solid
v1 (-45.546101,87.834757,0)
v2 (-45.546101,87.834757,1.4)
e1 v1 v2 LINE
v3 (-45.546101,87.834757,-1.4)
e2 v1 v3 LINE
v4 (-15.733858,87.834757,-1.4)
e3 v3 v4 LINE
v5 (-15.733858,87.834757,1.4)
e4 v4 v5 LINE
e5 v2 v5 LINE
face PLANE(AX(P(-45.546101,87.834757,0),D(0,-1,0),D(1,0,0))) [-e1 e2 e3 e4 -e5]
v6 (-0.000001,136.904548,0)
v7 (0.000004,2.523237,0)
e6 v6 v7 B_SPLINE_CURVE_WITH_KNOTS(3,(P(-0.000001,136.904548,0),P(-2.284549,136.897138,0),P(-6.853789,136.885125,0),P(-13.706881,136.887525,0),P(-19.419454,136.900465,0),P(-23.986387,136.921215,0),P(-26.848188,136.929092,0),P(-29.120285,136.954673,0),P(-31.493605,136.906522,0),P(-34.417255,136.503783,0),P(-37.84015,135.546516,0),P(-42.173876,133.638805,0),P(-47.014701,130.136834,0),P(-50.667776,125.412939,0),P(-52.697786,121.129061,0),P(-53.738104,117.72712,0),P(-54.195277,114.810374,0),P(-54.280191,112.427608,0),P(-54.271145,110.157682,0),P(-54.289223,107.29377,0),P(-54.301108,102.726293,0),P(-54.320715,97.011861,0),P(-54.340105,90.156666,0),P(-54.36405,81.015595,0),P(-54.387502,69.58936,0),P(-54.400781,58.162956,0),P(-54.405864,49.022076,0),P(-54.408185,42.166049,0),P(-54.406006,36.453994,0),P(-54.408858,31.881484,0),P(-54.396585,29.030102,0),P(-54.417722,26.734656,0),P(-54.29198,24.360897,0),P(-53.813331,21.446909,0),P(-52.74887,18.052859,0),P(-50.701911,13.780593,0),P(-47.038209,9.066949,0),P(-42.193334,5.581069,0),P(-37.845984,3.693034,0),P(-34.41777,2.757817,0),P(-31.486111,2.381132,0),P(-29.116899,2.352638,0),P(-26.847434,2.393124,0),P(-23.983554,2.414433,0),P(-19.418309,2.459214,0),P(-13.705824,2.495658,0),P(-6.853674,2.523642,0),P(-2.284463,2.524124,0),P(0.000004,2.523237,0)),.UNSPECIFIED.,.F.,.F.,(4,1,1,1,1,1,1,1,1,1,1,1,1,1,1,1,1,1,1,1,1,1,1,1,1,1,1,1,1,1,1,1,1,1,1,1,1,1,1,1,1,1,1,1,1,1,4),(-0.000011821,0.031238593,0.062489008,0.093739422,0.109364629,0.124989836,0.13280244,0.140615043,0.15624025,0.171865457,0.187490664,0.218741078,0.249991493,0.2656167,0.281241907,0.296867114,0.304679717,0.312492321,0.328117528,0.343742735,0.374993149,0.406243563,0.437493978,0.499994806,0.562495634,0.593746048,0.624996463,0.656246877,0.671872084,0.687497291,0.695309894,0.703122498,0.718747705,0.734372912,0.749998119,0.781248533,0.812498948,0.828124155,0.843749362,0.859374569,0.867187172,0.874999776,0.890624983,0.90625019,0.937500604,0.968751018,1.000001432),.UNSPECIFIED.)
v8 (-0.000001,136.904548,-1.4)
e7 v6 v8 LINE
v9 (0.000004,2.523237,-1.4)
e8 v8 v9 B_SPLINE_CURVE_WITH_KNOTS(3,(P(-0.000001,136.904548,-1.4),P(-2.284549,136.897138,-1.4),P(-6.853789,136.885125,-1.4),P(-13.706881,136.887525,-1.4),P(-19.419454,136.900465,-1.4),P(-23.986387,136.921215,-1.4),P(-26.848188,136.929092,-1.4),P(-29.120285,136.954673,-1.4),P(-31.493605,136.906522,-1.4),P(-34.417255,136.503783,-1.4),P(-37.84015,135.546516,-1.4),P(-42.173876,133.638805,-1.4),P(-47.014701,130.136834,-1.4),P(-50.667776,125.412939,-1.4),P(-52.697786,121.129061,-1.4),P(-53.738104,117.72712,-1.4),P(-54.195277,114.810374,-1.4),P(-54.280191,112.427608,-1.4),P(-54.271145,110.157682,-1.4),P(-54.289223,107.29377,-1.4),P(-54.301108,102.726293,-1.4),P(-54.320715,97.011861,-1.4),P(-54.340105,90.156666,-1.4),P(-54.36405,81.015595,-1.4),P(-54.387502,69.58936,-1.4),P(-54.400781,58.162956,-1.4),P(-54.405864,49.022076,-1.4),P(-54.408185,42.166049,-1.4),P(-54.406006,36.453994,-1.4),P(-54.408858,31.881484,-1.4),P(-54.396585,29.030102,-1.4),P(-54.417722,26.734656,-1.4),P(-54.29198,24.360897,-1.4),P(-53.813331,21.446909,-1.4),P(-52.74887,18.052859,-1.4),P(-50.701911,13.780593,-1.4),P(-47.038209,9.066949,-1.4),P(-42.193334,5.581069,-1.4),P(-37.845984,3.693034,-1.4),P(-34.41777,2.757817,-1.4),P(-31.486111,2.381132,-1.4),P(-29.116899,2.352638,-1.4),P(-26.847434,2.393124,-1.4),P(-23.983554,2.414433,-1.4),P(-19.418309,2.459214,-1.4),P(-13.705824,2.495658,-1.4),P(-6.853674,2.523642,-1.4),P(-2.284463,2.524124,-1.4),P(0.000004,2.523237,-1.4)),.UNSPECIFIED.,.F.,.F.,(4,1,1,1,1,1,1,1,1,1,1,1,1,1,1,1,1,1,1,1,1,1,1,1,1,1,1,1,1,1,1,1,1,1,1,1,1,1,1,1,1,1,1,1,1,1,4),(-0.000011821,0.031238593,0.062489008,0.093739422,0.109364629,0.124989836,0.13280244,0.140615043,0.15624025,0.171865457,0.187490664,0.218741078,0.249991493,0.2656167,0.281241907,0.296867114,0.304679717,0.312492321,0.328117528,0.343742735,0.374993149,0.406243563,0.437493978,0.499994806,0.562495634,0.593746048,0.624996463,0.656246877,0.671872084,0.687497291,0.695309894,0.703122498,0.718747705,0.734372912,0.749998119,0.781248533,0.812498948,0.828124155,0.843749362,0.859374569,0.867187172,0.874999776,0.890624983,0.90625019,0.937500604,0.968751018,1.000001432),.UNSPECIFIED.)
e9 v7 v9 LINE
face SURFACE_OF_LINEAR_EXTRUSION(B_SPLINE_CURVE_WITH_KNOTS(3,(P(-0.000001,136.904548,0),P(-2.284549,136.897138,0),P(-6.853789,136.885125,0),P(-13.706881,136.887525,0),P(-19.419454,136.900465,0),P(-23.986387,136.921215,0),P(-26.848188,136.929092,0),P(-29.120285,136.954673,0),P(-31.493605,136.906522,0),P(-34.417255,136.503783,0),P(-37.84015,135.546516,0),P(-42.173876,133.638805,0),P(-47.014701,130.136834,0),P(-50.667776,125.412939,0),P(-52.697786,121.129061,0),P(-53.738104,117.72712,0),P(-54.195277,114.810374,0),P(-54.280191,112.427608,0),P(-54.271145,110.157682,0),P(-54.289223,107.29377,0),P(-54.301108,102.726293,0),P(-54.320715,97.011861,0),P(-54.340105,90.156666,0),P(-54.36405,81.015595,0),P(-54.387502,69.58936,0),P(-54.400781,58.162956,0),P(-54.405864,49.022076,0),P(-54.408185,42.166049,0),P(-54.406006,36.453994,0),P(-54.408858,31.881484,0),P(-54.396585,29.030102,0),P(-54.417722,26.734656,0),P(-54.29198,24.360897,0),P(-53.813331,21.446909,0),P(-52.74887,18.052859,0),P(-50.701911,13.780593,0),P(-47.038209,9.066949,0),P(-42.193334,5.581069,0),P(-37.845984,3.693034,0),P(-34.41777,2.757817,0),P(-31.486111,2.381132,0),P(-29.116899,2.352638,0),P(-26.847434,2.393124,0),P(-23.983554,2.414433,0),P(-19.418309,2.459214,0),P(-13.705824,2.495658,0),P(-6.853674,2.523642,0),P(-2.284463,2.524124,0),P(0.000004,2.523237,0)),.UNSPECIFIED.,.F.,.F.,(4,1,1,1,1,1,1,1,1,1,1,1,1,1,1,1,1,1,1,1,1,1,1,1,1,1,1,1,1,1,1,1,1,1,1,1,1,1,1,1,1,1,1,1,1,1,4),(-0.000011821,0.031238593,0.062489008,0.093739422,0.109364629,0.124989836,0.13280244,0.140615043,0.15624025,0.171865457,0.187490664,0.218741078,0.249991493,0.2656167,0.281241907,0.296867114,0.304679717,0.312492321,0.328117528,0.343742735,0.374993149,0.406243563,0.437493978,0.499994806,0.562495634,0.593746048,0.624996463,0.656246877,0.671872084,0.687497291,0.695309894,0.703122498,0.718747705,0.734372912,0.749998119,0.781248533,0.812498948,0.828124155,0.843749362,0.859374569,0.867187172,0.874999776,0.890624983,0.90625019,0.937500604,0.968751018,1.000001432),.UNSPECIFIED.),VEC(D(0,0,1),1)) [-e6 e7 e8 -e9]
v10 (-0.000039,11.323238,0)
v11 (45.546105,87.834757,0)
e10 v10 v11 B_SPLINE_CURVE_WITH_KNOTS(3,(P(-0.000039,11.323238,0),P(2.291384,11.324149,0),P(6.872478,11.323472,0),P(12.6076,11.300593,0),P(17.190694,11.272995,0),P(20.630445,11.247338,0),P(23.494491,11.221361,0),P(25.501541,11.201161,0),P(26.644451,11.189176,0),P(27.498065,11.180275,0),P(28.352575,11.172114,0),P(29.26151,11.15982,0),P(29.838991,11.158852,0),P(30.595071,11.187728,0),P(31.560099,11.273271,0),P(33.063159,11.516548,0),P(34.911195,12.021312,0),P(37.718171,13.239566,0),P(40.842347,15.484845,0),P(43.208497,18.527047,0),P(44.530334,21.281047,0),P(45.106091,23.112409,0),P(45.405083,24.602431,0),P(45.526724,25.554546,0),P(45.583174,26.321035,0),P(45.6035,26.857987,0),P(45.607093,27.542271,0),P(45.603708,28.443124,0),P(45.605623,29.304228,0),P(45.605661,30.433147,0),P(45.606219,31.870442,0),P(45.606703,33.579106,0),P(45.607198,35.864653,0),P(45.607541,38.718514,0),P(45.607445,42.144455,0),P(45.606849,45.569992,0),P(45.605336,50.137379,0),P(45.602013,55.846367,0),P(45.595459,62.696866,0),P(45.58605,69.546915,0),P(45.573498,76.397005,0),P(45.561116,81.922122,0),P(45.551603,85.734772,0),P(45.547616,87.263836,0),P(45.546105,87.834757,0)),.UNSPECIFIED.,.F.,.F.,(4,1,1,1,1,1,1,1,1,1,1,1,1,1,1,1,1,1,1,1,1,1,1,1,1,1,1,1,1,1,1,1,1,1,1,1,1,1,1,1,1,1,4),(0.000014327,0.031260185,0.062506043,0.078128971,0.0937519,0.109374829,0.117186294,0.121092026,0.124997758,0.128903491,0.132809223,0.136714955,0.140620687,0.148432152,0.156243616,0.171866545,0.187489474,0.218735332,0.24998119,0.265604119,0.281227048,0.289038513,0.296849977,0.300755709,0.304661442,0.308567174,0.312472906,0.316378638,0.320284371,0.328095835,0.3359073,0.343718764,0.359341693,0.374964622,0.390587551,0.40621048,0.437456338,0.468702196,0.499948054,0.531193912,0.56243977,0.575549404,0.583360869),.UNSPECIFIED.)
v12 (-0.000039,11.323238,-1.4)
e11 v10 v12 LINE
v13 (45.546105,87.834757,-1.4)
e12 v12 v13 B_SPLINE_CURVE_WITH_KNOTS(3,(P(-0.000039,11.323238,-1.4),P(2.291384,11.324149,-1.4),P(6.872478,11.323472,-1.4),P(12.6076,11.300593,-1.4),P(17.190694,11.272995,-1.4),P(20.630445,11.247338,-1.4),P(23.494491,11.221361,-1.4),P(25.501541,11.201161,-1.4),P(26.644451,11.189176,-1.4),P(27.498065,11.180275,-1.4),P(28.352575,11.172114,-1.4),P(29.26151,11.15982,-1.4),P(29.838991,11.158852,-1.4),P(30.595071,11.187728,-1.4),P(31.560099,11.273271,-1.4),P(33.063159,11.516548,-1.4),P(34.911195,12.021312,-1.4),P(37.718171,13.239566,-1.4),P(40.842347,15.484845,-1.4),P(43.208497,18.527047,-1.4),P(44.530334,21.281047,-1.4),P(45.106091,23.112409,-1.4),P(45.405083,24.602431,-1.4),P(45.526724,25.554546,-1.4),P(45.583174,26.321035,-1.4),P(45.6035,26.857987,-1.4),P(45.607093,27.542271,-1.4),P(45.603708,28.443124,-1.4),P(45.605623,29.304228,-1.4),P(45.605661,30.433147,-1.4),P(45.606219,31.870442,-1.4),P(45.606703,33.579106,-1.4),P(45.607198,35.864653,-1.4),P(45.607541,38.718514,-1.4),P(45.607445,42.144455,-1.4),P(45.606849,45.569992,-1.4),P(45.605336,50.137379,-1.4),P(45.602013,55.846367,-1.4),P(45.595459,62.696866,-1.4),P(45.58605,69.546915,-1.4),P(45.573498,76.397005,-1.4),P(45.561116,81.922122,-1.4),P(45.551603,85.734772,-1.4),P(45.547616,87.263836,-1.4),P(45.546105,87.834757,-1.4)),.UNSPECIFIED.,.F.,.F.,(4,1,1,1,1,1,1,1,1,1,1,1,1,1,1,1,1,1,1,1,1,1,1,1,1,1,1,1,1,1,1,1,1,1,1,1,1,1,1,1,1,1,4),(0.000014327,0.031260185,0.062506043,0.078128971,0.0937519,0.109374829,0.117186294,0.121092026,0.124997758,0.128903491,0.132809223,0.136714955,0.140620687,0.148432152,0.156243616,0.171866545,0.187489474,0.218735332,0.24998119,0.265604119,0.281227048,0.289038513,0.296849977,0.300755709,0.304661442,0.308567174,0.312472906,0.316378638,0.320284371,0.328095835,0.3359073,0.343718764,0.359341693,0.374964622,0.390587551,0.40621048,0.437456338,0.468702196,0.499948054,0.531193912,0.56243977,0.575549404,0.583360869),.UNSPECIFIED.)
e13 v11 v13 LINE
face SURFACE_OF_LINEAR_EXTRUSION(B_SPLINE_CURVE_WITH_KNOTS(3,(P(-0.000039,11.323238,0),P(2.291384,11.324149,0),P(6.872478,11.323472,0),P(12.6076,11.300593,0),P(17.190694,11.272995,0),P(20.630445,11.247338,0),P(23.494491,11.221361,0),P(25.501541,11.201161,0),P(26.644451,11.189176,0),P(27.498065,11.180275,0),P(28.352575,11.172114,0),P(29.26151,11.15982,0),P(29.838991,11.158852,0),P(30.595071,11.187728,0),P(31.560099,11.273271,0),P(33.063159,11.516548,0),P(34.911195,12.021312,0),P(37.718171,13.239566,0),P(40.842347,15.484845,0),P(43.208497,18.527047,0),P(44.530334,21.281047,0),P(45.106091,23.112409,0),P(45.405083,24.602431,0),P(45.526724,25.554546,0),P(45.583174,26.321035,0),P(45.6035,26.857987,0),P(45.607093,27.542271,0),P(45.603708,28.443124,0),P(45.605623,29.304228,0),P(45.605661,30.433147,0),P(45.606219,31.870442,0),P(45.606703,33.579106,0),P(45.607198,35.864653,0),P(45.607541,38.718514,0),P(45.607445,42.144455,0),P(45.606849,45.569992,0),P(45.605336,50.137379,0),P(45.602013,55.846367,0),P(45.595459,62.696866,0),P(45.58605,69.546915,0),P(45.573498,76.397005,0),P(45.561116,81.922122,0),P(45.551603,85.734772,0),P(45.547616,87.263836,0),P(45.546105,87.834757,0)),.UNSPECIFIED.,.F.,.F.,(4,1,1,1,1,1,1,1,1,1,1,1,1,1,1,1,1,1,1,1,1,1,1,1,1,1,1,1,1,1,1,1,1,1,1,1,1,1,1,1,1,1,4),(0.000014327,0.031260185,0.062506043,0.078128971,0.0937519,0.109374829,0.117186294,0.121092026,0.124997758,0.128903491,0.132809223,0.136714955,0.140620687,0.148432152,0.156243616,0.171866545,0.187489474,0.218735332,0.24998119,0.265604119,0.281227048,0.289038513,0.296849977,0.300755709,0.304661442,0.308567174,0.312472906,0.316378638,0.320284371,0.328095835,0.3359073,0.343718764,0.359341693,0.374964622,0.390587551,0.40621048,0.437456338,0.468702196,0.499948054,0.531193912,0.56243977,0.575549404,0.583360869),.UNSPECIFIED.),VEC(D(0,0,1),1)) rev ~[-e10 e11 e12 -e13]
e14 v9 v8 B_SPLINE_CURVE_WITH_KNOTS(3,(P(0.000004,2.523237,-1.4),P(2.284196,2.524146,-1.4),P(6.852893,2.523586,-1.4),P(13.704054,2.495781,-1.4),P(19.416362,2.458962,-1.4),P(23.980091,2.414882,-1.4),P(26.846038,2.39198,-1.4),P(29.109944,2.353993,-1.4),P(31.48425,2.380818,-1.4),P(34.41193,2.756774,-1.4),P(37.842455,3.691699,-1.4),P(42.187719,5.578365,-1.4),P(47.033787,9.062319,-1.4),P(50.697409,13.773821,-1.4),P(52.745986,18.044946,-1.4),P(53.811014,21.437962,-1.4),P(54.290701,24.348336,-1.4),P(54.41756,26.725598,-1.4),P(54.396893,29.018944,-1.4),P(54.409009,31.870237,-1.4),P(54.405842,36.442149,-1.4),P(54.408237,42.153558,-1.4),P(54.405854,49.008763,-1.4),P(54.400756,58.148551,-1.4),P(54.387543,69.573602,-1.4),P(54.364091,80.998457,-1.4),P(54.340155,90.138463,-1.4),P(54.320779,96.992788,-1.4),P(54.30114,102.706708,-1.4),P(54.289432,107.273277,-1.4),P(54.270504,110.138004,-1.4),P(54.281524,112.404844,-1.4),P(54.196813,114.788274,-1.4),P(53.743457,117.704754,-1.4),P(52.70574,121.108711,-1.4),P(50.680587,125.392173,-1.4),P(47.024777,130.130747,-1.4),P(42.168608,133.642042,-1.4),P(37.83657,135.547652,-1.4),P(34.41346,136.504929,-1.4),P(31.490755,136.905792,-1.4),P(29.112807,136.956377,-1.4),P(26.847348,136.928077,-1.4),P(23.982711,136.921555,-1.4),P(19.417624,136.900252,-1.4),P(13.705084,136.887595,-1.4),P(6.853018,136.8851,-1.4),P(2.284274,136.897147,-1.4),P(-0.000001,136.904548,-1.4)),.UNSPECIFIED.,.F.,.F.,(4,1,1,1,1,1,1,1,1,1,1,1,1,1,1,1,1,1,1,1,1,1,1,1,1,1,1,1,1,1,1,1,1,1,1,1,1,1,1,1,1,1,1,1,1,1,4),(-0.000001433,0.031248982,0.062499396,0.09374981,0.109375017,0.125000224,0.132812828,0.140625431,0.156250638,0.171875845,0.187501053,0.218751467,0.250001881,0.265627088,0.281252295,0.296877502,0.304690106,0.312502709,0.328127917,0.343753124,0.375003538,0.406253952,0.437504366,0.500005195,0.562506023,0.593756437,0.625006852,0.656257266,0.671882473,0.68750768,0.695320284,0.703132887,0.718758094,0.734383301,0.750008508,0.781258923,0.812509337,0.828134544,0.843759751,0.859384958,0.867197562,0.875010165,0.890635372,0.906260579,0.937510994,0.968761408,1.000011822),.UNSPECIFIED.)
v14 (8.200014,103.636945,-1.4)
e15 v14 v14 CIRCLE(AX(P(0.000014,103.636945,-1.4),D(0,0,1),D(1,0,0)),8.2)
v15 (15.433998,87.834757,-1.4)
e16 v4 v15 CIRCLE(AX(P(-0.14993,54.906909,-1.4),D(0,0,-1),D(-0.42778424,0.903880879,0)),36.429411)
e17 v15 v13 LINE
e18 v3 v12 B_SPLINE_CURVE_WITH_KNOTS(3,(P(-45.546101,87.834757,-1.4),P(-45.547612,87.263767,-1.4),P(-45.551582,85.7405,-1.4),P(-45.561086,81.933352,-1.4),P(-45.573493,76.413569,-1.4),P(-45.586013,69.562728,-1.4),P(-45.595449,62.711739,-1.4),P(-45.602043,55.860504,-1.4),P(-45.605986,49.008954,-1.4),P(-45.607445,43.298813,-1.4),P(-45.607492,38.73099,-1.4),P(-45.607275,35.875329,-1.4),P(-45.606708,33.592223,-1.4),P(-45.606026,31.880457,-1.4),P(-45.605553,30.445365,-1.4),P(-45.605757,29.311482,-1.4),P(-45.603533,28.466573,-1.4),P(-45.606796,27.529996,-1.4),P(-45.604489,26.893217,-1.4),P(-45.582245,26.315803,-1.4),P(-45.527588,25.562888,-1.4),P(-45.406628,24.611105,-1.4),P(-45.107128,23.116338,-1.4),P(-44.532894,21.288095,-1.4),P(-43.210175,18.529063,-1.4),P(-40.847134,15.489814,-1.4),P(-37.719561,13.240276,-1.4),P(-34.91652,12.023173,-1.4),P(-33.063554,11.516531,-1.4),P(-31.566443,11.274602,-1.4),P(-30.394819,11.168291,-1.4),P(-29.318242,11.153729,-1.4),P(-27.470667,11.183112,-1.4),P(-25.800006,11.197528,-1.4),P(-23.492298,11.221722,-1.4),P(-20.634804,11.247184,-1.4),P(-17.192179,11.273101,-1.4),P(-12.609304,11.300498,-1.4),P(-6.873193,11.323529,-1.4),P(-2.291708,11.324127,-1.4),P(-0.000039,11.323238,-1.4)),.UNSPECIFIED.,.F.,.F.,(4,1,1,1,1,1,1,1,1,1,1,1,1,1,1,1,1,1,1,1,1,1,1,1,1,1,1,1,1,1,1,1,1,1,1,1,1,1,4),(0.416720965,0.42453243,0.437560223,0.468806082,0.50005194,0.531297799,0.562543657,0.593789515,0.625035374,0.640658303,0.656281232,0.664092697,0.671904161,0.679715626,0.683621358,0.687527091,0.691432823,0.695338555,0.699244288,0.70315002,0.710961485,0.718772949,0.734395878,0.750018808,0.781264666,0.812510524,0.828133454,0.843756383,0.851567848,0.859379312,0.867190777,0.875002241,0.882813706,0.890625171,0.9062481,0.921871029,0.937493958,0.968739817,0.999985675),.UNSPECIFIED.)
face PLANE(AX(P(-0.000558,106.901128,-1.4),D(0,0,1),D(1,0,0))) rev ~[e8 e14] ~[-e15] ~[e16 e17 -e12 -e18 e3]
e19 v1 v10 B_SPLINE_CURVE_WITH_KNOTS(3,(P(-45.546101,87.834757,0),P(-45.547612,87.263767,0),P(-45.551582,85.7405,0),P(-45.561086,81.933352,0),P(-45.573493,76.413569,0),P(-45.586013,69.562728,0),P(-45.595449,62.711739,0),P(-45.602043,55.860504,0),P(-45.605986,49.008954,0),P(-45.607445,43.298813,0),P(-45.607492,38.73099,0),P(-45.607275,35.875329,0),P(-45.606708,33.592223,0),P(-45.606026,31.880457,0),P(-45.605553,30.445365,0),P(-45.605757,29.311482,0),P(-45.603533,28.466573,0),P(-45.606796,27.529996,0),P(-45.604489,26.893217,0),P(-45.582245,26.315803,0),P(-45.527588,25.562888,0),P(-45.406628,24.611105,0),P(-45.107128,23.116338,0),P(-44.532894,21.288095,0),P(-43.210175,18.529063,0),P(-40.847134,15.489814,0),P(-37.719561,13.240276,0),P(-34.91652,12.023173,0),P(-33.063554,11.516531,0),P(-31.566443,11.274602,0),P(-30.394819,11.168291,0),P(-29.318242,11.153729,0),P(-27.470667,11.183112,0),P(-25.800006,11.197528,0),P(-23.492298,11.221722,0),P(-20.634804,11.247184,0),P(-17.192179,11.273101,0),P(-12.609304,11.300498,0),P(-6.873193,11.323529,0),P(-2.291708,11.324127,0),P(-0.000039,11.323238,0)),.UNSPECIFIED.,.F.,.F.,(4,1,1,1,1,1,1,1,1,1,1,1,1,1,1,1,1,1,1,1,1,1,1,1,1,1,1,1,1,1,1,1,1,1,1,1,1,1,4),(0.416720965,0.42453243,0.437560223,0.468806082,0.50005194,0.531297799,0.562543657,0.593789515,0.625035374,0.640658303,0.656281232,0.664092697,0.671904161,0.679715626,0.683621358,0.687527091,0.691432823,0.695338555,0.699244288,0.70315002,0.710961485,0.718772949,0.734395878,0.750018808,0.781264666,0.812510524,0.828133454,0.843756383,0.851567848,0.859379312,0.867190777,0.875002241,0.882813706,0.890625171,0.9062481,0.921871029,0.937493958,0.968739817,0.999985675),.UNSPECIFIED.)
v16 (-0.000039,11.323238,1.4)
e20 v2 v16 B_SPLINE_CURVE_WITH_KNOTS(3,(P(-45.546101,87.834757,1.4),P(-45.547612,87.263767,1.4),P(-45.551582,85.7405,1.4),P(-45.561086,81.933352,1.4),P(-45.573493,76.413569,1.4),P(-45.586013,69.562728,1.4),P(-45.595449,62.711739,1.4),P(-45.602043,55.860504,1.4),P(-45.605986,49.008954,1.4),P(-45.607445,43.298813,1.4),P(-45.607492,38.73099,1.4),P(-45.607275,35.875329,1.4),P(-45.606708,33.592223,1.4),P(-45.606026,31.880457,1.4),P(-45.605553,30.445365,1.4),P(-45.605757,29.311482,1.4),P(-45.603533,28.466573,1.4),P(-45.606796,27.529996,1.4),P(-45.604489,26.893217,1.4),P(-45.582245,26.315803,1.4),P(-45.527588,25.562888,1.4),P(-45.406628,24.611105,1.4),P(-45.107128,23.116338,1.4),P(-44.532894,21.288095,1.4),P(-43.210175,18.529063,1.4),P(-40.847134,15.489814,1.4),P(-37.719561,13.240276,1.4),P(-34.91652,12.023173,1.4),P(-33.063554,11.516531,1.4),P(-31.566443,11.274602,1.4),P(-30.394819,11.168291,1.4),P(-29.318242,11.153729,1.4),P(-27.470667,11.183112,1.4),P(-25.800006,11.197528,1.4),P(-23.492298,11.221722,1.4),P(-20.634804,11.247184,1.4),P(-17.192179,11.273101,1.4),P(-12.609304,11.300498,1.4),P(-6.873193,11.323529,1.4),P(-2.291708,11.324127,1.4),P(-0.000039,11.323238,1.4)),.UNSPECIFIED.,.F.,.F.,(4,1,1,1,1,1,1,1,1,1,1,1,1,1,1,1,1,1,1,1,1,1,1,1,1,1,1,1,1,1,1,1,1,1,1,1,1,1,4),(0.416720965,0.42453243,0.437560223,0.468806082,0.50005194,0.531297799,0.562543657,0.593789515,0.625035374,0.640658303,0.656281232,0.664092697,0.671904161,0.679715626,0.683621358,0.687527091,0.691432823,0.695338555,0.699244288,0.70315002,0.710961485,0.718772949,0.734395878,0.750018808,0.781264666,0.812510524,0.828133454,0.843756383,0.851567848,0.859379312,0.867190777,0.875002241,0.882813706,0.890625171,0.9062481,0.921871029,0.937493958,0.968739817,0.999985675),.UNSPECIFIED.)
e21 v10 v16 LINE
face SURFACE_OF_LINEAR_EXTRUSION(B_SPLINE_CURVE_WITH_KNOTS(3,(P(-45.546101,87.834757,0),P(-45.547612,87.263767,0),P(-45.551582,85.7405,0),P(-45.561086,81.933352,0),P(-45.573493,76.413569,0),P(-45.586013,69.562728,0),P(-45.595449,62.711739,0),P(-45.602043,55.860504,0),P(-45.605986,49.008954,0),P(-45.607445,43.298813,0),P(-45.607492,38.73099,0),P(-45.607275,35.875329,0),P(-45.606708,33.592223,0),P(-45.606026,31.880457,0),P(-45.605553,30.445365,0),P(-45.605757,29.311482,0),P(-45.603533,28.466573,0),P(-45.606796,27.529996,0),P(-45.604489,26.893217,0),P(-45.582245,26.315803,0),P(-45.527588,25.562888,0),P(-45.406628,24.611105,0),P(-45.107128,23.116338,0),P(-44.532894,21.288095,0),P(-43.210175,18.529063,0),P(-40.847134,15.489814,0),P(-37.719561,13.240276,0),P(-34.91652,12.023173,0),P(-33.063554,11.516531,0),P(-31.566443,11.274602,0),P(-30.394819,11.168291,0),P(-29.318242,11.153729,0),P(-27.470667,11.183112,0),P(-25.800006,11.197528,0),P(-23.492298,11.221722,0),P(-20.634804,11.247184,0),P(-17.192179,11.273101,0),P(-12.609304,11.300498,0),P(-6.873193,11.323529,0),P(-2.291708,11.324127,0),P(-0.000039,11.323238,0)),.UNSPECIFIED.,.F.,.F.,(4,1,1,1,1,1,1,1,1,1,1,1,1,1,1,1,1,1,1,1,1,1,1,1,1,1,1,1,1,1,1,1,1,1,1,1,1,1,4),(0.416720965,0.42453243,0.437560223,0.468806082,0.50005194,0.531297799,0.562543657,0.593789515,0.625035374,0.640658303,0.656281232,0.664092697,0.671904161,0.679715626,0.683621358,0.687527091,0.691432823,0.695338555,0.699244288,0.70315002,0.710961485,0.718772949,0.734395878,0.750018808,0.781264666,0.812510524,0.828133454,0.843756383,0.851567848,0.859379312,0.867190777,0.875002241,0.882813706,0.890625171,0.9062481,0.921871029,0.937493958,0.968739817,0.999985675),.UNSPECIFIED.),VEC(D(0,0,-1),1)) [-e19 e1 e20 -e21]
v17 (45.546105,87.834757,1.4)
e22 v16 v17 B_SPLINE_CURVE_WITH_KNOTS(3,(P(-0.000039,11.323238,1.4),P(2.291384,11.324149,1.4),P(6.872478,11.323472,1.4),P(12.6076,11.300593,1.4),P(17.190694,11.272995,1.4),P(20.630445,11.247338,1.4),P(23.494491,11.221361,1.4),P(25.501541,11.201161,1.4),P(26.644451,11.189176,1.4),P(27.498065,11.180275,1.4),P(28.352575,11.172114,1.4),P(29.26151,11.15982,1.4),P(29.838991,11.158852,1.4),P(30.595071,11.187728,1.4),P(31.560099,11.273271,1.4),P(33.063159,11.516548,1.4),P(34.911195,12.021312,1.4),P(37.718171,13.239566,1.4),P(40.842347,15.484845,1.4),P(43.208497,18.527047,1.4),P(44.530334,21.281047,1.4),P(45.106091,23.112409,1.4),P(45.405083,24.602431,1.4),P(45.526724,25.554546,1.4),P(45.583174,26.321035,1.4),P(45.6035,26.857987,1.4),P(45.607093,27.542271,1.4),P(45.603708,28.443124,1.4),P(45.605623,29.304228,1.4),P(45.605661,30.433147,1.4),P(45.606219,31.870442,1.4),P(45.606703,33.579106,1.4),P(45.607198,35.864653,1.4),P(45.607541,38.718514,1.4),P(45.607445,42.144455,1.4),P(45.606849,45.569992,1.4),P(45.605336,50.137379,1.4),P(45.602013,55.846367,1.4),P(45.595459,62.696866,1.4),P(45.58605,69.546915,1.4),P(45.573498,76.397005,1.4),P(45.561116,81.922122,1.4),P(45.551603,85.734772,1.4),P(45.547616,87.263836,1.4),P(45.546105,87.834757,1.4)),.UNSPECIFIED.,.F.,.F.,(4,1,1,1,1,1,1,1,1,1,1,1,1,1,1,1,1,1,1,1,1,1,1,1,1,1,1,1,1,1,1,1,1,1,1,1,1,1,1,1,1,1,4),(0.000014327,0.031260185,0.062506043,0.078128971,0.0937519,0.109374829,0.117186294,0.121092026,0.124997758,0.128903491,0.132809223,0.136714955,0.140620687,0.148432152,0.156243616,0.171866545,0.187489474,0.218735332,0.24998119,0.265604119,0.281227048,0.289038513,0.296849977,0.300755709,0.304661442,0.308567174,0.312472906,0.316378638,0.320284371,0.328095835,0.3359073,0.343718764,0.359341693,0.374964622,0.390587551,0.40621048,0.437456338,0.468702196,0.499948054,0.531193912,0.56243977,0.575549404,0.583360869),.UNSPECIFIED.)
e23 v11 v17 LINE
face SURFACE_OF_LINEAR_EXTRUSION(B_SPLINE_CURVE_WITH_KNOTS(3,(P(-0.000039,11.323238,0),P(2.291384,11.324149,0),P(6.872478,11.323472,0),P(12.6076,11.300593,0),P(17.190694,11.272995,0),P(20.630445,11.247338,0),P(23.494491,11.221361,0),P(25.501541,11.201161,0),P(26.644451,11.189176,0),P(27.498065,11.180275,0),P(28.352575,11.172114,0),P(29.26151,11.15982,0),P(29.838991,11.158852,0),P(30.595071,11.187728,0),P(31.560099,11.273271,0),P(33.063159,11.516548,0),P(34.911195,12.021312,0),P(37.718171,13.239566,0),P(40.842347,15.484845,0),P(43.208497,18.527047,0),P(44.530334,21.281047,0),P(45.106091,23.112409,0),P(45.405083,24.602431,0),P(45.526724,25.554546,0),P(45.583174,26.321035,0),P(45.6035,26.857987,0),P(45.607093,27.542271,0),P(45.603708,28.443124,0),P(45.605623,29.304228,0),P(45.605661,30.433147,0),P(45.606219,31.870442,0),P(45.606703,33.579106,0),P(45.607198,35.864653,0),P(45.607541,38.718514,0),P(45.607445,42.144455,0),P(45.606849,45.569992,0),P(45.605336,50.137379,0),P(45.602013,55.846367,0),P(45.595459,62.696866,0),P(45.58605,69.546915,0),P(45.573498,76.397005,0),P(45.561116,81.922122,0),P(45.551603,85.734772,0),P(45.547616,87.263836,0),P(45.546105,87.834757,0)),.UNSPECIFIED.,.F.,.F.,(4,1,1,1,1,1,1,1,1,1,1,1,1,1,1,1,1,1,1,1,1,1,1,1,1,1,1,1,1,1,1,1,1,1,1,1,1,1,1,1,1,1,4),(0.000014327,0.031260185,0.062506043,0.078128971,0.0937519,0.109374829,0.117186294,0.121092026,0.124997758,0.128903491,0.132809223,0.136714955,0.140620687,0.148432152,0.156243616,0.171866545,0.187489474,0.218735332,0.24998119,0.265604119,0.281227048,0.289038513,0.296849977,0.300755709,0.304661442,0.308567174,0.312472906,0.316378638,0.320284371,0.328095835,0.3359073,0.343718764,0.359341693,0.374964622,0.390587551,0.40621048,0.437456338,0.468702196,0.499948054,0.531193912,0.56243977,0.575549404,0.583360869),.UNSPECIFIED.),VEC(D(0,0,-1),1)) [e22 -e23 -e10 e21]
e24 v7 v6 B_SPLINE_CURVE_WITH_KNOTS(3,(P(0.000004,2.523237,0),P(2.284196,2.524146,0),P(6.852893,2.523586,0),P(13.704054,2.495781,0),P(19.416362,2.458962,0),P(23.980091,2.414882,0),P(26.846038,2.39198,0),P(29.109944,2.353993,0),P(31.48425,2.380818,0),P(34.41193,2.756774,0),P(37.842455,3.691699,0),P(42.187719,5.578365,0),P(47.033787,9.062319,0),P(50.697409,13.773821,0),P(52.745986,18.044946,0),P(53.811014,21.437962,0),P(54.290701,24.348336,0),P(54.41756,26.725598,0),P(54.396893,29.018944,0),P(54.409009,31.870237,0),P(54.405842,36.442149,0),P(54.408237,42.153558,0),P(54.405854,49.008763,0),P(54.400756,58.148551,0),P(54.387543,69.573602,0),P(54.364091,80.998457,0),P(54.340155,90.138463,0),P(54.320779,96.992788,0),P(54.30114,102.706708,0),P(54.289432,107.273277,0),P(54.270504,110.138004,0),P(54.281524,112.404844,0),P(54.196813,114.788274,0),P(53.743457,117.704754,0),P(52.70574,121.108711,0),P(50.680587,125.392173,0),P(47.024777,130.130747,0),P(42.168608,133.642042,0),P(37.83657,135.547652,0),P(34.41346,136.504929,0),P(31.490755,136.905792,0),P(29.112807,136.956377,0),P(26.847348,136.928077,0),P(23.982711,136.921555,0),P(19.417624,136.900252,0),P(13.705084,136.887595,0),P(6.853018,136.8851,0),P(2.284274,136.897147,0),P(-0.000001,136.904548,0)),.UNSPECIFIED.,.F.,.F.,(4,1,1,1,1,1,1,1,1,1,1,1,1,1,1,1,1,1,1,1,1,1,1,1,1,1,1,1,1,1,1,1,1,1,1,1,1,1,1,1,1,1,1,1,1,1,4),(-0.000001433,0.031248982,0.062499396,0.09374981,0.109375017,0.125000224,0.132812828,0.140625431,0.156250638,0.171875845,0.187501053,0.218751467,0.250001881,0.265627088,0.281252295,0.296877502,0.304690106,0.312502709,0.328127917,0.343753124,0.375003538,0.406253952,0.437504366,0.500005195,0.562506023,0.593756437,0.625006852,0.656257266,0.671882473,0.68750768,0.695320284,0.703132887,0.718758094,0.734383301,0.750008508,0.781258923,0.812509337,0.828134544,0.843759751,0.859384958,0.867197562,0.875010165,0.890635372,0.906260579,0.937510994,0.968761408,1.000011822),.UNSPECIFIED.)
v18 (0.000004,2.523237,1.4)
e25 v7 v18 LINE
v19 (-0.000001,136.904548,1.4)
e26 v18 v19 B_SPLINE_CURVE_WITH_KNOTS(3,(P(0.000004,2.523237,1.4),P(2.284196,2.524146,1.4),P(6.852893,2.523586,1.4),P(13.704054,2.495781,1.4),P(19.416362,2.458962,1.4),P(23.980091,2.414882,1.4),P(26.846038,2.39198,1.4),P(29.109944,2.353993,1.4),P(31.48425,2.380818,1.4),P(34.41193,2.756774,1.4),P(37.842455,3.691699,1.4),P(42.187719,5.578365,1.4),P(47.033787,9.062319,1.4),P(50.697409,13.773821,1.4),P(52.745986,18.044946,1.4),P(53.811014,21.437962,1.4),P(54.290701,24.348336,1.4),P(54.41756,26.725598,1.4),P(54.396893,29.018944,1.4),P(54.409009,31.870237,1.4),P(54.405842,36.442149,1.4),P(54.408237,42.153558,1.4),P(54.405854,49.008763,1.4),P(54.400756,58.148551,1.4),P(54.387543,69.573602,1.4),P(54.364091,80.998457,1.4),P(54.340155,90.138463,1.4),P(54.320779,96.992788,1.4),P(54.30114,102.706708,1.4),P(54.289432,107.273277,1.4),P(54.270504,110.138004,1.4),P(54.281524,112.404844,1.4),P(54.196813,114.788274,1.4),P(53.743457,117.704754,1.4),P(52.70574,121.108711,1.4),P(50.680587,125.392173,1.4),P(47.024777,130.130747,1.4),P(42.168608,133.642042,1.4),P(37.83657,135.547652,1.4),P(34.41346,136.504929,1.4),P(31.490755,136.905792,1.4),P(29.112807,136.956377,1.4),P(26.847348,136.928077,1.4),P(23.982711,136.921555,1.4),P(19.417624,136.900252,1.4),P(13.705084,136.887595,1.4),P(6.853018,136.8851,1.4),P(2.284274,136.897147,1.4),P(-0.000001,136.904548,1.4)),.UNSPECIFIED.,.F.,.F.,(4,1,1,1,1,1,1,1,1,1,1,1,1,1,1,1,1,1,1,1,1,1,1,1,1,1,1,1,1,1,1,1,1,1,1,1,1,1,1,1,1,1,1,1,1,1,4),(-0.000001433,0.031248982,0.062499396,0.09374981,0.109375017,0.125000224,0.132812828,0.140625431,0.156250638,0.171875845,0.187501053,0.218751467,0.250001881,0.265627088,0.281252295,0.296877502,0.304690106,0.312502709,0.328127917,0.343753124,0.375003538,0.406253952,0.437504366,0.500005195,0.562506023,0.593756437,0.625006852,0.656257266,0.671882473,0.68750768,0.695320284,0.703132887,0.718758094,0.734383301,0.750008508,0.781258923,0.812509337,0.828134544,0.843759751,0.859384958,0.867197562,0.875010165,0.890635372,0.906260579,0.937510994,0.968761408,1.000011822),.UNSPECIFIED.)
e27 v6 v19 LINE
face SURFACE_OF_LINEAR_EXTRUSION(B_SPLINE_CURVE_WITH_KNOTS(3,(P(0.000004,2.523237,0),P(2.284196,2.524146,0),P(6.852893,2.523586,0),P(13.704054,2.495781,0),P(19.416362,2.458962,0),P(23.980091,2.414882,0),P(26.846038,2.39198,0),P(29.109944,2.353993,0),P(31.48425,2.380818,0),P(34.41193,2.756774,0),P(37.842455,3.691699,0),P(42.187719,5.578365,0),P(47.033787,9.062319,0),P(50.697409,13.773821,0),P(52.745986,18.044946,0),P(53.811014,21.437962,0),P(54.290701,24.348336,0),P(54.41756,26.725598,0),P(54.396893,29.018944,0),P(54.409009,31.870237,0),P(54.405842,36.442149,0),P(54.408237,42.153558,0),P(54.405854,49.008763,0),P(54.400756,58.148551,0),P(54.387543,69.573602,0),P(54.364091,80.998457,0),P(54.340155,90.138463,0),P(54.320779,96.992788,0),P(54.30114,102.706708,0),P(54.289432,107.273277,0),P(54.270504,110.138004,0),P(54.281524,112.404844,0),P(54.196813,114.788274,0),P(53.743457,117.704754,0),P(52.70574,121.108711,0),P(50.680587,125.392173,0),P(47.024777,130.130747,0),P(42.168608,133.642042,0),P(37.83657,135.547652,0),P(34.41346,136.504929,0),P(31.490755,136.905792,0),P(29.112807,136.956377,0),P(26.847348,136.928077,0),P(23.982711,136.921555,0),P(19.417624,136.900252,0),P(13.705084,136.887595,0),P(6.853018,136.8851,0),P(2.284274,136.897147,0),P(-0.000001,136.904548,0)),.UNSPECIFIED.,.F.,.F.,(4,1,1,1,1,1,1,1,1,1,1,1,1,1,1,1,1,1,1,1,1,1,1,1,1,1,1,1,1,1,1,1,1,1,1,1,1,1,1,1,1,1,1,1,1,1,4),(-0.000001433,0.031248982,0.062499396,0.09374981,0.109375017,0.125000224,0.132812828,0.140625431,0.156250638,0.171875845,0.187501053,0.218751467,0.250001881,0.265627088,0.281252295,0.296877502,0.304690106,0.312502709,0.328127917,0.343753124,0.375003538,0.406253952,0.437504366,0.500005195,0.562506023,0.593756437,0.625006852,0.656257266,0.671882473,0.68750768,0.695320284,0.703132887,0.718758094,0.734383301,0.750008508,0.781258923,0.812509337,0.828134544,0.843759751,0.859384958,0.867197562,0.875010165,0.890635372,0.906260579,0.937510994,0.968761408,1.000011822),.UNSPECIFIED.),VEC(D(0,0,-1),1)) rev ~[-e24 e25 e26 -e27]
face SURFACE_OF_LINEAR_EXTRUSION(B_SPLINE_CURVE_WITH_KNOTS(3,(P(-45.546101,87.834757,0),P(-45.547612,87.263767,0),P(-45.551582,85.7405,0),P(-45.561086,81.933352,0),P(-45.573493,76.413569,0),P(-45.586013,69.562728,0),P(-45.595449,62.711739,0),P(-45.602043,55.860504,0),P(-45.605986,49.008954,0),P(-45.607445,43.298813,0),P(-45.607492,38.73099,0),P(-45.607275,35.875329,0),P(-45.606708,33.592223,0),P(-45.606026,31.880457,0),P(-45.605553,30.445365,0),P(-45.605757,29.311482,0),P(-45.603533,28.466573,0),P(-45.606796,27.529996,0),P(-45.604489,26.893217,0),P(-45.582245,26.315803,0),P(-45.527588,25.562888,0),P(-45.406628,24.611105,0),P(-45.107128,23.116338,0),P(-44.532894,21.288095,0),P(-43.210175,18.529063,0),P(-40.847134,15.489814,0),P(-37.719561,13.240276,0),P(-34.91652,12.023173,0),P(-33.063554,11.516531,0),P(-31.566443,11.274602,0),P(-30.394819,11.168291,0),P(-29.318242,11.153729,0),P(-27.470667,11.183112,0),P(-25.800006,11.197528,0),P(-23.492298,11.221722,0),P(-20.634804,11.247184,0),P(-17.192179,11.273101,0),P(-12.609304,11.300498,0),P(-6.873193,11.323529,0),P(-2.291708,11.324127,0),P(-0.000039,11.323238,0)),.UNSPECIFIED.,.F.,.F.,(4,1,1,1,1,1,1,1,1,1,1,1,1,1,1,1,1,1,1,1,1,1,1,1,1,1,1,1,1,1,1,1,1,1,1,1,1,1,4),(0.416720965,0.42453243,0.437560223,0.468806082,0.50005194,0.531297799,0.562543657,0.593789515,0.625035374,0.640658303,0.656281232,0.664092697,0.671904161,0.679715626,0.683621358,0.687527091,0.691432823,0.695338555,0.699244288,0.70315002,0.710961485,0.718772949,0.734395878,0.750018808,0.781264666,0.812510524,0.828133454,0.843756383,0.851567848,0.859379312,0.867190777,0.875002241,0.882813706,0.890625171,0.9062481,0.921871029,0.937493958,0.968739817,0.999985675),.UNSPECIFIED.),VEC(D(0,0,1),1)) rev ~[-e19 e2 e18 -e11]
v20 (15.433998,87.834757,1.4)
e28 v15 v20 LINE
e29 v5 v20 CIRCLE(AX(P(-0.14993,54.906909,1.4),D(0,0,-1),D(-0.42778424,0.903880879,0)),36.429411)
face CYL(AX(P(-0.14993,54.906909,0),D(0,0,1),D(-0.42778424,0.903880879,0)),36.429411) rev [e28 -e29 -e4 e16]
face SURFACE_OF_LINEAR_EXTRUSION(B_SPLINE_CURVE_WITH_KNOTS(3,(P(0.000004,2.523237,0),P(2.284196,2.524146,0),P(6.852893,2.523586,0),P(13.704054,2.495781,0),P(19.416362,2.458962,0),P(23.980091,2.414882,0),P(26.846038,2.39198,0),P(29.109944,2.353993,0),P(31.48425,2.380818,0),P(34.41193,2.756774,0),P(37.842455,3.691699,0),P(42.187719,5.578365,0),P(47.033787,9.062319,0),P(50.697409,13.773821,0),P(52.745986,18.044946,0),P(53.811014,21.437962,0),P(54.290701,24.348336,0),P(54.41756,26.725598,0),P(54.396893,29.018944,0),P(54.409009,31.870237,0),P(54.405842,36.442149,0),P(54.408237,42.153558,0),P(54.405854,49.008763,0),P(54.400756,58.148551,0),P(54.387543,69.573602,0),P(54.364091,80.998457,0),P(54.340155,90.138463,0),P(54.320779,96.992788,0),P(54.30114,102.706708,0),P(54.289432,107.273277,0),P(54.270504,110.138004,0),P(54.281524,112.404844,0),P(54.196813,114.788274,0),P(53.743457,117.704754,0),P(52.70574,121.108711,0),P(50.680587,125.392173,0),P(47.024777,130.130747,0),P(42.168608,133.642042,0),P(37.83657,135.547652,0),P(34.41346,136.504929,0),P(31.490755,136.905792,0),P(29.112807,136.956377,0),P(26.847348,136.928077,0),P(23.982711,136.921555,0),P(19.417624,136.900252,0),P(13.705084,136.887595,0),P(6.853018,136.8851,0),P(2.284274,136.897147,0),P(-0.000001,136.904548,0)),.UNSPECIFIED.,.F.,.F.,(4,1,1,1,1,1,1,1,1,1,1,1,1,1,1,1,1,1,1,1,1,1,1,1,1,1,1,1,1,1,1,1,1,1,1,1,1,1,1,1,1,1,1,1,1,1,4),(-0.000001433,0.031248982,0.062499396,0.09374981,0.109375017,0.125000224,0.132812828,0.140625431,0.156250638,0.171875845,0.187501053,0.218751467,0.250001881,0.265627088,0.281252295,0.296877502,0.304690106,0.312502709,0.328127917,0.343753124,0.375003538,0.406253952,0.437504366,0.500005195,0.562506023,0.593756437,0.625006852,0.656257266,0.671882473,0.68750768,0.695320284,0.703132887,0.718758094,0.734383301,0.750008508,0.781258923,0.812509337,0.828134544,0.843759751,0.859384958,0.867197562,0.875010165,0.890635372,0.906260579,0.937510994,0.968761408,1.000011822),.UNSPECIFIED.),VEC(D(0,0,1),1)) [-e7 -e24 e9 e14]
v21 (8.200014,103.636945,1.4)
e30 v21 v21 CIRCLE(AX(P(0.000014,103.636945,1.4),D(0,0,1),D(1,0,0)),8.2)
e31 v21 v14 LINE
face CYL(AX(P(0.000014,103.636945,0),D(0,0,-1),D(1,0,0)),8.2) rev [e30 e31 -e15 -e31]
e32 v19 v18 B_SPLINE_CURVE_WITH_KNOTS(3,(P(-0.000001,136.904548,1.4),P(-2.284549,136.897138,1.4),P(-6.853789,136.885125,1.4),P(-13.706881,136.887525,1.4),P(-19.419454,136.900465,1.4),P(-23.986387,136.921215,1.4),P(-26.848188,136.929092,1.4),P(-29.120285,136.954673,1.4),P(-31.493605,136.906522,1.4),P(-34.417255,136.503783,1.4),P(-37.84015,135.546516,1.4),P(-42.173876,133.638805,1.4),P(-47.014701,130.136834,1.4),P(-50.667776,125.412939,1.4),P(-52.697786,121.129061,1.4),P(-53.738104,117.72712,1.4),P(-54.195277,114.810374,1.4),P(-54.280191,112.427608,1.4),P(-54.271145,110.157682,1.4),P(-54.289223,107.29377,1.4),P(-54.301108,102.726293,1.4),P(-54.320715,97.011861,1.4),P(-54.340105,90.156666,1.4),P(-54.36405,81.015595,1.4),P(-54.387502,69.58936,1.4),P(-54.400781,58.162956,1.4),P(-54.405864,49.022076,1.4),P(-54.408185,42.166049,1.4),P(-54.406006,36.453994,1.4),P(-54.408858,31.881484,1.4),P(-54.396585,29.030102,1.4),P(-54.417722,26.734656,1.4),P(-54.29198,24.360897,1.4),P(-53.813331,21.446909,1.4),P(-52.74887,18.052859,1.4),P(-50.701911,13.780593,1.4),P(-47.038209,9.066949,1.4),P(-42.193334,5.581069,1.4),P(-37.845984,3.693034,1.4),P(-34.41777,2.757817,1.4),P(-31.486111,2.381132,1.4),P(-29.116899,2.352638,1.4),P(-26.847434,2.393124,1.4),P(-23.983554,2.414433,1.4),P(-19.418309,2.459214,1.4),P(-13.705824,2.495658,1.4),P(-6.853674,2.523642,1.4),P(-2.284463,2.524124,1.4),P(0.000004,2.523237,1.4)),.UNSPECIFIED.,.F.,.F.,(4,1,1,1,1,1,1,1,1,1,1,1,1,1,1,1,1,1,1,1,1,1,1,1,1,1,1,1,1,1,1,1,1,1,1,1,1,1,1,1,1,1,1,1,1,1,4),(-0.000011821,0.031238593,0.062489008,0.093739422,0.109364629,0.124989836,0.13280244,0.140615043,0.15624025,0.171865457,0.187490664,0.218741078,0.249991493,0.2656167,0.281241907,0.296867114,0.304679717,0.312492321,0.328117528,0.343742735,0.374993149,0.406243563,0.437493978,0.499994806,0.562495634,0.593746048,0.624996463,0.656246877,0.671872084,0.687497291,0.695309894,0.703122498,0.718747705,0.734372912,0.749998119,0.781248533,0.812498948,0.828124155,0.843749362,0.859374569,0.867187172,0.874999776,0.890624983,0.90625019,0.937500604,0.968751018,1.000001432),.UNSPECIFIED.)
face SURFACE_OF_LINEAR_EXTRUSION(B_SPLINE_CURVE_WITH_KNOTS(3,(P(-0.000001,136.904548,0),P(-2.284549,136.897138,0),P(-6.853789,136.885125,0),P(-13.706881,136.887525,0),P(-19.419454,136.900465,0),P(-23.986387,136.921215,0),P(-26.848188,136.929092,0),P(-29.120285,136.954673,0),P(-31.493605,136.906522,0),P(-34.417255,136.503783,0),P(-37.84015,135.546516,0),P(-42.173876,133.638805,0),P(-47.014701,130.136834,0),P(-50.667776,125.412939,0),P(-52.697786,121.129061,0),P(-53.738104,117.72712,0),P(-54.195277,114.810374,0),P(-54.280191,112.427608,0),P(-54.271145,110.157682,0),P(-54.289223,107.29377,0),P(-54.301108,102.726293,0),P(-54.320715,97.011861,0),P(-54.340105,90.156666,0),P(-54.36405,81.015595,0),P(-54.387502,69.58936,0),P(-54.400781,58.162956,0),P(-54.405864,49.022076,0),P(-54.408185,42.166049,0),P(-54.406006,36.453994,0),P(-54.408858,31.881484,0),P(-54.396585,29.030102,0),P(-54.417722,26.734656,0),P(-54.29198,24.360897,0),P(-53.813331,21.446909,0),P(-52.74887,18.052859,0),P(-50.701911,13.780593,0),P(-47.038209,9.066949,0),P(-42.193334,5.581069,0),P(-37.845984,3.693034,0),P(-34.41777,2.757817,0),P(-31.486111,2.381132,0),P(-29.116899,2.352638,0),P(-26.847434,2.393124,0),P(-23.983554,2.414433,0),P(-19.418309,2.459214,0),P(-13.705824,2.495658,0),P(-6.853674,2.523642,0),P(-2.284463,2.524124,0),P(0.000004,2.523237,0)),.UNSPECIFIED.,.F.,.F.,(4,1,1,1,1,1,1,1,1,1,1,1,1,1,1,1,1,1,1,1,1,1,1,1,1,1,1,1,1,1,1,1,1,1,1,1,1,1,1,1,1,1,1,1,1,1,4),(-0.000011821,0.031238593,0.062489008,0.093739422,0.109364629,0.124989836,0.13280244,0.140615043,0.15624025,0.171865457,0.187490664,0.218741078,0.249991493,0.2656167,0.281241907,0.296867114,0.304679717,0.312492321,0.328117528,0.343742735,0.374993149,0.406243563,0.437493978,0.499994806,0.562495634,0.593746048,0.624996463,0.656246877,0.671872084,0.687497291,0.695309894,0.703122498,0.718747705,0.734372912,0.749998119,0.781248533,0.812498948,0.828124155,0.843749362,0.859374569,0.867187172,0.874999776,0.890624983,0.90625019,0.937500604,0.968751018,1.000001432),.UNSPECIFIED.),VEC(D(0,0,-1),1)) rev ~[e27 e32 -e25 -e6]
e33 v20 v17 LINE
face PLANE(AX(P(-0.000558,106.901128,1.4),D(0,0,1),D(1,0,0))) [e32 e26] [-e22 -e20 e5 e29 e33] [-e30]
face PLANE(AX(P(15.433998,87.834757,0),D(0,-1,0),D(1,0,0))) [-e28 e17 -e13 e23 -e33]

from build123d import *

# Parameters (mm, degrees)
SKETCH_1_R      = 8.2
EXTRUDE_1_DEPTH = 1.4


with BuildPart() as part:
    # Эскиз1 → Бобышка-Вытянуть1 (new, symmetric)
    # profile 1 of 2: a face of its own
    with BuildSketch(Plane.XY):
        with BuildLine():
            add(Edge.make_bspline(
                [(-1.41e-06, 136.904547543), (-2.284548883, 136.89713838), (-6.853789283, 136.88512461), (-13.706881087, 136.887524775), (-19.419454046, 136.900465285), (-23.986387293, 136.921214874), (-26.848187905, 136.929091717), (-29.120285439, 136.954672718), (-31.493604663, 136.906521708), (-34.417255214, 136.50378342), (-37.840149762, 135.546516124), (-42.173876112, 133.638804995), (-47.0147009, 130.136834178), (-50.667775597, 125.412939206), (-52.697786255, 121.129060625), (-53.738103919, 117.727120282), (-54.195277136, 114.810373829), (-54.280191209, 112.427608123), (-54.271144661, 110.157682158), (-54.28922282, 107.293769786), (-54.301107633, 102.726293338), (-54.32071536, 97.011861026), (-54.340105069, 90.156666083), (-54.364049942, 81.015595043), (-54.387501843, 69.589360329), (-54.400781358, 58.162956349), (-54.405864419, 49.022076213), (-54.408185125, 42.166049408), (-54.406005729, 36.453994041), (-54.408858021, 31.881483638), (-54.396585447, 29.030101825), (-54.417722148, 26.734656254), (-54.291980443, 24.360896673), (-53.813331054, 21.446908626), (-52.748869976, 18.052859245), (-50.701910941, 13.780592689), (-47.038208895, 9.066949454), (-42.193333951, 5.581068508), (-37.845983963, 3.693033835), (-34.417769752, 2.757816506), (-31.486111128, 2.381132192), (-29.116899151, 2.352637504), (-26.847434314, 2.393123831), (-23.983553911, 2.414432512), (-19.418308545, 2.459214293), (-13.705824142, 2.495658014), (-6.853673536, 2.523642445), (-2.284462976, 2.524123601), (3.902e-06, 2.52323738)],
                knots=[-1.1821e-05, -1.1821e-05, -1.1821e-05, -1.1821e-05, 0.031238593, 0.062489008, 0.093739422, 0.109364629, 0.124989836, 0.13280244, 0.140615043, 0.15624025, 0.171865457, 0.187490664, 0.218741078, 0.249991493, 0.2656167, 0.281241907, 0.296867114, 0.304679717, 0.312492321, 0.328117528, 0.343742735, 0.374993149, 0.406243563, 0.437493978, 0.499994806, 0.562495634, 0.593746048, 0.624996463, 0.656246877, 0.671872084, 0.687497291, 0.695309894, 0.703122498, 0.718747705, 0.734372912, 0.749998119, 0.781248533, 0.812498948, 0.828124155, 0.843749362, 0.859374569, 0.867187172, 0.874999776, 0.890624983, 0.90625019, 0.937500604, 0.968751018, 1.000001432, 1.000001432, 1.000001432, 1.000001432], degree=3))
            add(Edge.make_bspline(
                [(3.902e-06, 2.52323738), (2.284195851, 2.524145778), (6.852893221, 2.523586), (13.704054168, 2.495781452), (19.416362069, 2.458961502), (23.980091093, 2.414881797), (26.84603811, 2.391979833), (29.109943797, 2.353993451), (31.484249601, 2.380817652), (34.411930196, 2.756774205), (37.842455378, 3.691698887), (42.187718909, 5.578365163), (47.03378736, 9.062318886), (50.69740888, 13.773821034), (52.745986477, 18.044945864), (53.81101385, 21.437961802), (54.290701101, 24.348336193), (54.417560482, 26.725597914), (54.396893213, 29.018944365), (54.409009312, 31.870237315), (54.40584186, 36.442148526), (54.408236551, 42.153558417), (54.405853798, 49.008762573), (54.400756394, 58.148550558), (54.387542668, 69.573602278), (54.364090603, 80.998456779), (54.340155431, 90.138463002), (54.320779487, 96.992787571), (54.301139597, 102.706707695), (54.289432128, 107.273277288), (54.270503636, 110.138004338), (54.281524463, 112.404843612), (54.196813145, 114.788273658), (53.743457029, 117.704753858), (52.705739758, 121.108710825), (50.680586643, 125.392172973), (47.024776798, 130.130747424), (42.168607908, 133.64204219), (37.836569522, 135.547651824), (34.413460001, 136.504929469), (31.490754744, 136.905792277), (29.112807476, 136.956376959), (26.847348354, 136.928076738), (23.982710508, 136.92155454), (19.417623807, 136.900252148), (13.705083837, 136.887594722), (6.853018257, 136.885099848), (2.284274388, 136.897147311), (-1.41e-06, 136.904547543)],
                knots=[-1.433e-06, -1.433e-06, -1.433e-06, -1.433e-06, 0.031248982, 0.062499396, 0.09374981, 0.109375017, 0.125000224, 0.132812828, 0.140625431, 0.156250638, 0.171875845, 0.187501053, 0.218751467, 0.250001881, 0.265627088, 0.281252295, 0.296877502, 0.304690106, 0.312502709, 0.328127917, 0.343753124, 0.375003538, 0.406253952, 0.437504366, 0.500005195, 0.562506023, 0.593756437, 0.625006852, 0.656257266, 0.671882473, 0.68750768, 0.695320284, 0.703132887, 0.718758094, 0.734383301, 0.750008508, 0.781258923, 0.812509337, 0.828134544, 0.843759751, 0.859384958, 0.867197562, 0.875010165, 0.890635372, 0.906260579, 0.937510994, 0.968761408, 1.000011822, 1.000011822, 1.000011822, 1.000011822], degree=3))
        make_face()
        with BuildLine():
            add(Edge.make_bspline(
                [(-45.546100704, 87.83475716), (-45.547611682, 87.263766751), (-45.551581791, 85.740500336), (-45.561086327, 81.933352373), (-45.573492544, 76.413569245), (-45.586012707, 69.562728225), (-45.595448927, 62.711738721), (-45.602042983, 55.860504189), (-45.605985873, 49.008954099), (-45.607444762, 43.298812512), (-45.607492374, 38.730989939), (-45.607275342, 35.875329384), (-45.606707637, 33.592223369), (-45.606026056, 31.880457072), (-45.605553198, 30.445365388), (-45.605757257, 29.311481659), (-45.603532958, 28.46657288), (-45.606795822, 27.529995897), (-45.604488978, 26.893216622), (-45.582244789, 26.315802602), (-45.527587716, 25.562888107), (-45.406627638, 24.61110479), (-45.107128388, 23.116337539), (-44.532893809, 21.288094596), (-43.21017478, 18.529062638), (-40.847134359, 15.489813513), (-37.719561478, 13.240275882), (-34.916519951, 12.023173365), (-33.063554373, 11.516531499), (-31.566443065, 11.274602165), (-30.394818701, 11.168290706), (-29.318242465, 11.153728909), (-27.470666597, 11.183111952), (-25.800006243, 11.197527563), (-23.492298331, 11.221721681), (-20.634803933, 11.247184397), (-17.192179473, 11.273100962), (-12.60930364, 11.300498447), (-6.873193034, 11.32352895), (-2.291707521, 11.324127072), (-3.9021e-05, 11.323238059)],
                knots=[0.416720965, 0.416720965, 0.416720965, 0.416720965, 0.42453243, 0.437560223, 0.468806082, 0.50005194, 0.531297799, 0.562543657, 0.593789515, 0.625035374, 0.640658303, 0.656281232, 0.664092697, 0.671904161, 0.679715626, 0.683621358, 0.687527091, 0.691432823, 0.695338555, 0.699244288, 0.70315002, 0.710961485, 0.718772949, 0.734395878, 0.750018808, 0.781264666, 0.812510524, 0.828133454, 0.843756383, 0.851567848, 0.859379312, 0.867190777, 0.875002241, 0.882813706, 0.890625171, 0.9062481, 0.921871029, 0.937493958, 0.968739817, 0.999985675, 0.999985675, 0.999985675, 0.999985675], degree=3))
            add(Edge.make_bspline(
                [(1.4096e-05, 128.104501314), (-2.290740502, 128.097072123), (-6.871752548, 128.085178437), (-12.60059096, 128.08694214), (-17.181829557, 128.0957399), (-20.617646426, 128.10608411), (-23.479452934, 128.117598931), (-25.770032934, 128.128292772), (-27.199378679, 128.135838193), (-28.347599297, 128.141895979), (-29.19071701, 128.147352306), (-29.823193563, 128.141432826), (-30.331918294, 128.116978675), (-30.938212255, 128.067786124), (-31.690573783, 127.979035498), (-33.02250345, 127.751725567), (-34.877249499, 127.228380645), (-37.688411322, 125.988619168), (-40.821936423, 123.715969871), (-43.170634246, 120.670711555), (-44.468814244, 117.922664951), (-45.023966542, 116.108714676), (-45.270693984, 114.808613996), (-45.369926457, 114.068520608), (-45.4260579, 113.488039214), (-45.459917428, 112.94085237), (-45.470334843, 112.403478275), (-45.472375433, 111.527329039), (-45.476550162, 110.391146619), (-45.481397553, 108.960439841), (-45.489160435, 106.677330111), (-45.498617764, 103.821439657), (-45.50960287, 100.39533521), (-45.522536764, 96.208242339), (-45.533107945, 92.592439196), (-45.541522153, 89.547735571), (-45.544589726, 88.40574757), (-45.546100704, 87.83475716)],
                knots=[0.000118205, 0.000118205, 0.000118205, 0.000118205, 0.031364064, 0.062609922, 0.078232851, 0.09385578, 0.10947871, 0.117290174, 0.125101639, 0.129007371, 0.132913103, 0.136818836, 0.140724568, 0.1446303, 0.148536033, 0.156347497, 0.171970427, 0.187593356, 0.218839214, 0.250085073, 0.265708002, 0.281330931, 0.289142396, 0.293048128, 0.29695386, 0.300859593, 0.304765325, 0.308671057, 0.312576789, 0.320388254, 0.328199719, 0.343822648, 0.359445577, 0.375068506, 0.401098036, 0.4089095, 0.416720965, 0.416720965, 0.416720965, 0.416720965], degree=3))
            add(Edge.make_bspline(
                [(45.546104586, 87.83475716), (45.544593192, 88.405678319), (45.541524701, 89.547527112), (45.53312767, 92.585858308), (45.522579964, 96.195199989), (45.509645571, 100.376049422), (45.49871543, 103.801187969), (45.489279798, 106.658625166), (45.481221854, 108.936137867), (45.476840624, 110.382266936), (45.47209225, 111.488940165), (45.471455529, 112.271626028), (45.466636398, 112.636169822), (45.454369838, 113.016040261), (45.426376284, 113.485017427), (45.372132076, 114.049292757), (45.272575848, 114.797548209), (45.027884397, 116.092247709), (44.473820497, 117.910617547), (43.179236878, 120.655626002), (40.832178522, 123.70977978), (37.679927976, 125.99317268), (34.877229134, 127.228320208), (33.018781335, 127.752507235), (31.500297709, 128.011601546), (30.551288971, 128.106418345), (29.759898954, 128.144003168), (29.242470557, 128.148591247), (28.328673371, 128.14139433), (27.205403996, 128.136100767), (25.763515922, 128.128178402), (23.478789106, 128.117667298), (20.614400517, 128.106045313), (17.180004546, 128.095743416), (12.598957897, 128.08693638), (6.870996672, 128.085175498), (2.290491092, 128.097081094), (1.4096e-05, 128.104501314)],
                knots=[0.583360869, 0.583360869, 0.583360869, 0.583360869, 0.591172333, 0.598983798, 0.624931485, 0.640554414, 0.656177343, 0.671800272, 0.679611737, 0.687423201, 0.691328934, 0.695234666, 0.697187532, 0.699140398, 0.70304613, 0.706951863, 0.710857595, 0.718669059, 0.734291988, 0.749914917, 0.781160775, 0.812406633, 0.828029562, 0.843652491, 0.851463956, 0.85927542, 0.863181152, 0.867086885, 0.870992617, 0.874898349, 0.882709814, 0.890521278, 0.906144207, 0.921767136, 0.937390065, 0.968635923, 0.999881781, 0.999881781, 0.999881781, 0.999881781], degree=3))
            add(Edge.make_bspline(
                [(-3.9021e-05, 11.323238059), (2.291383916, 11.32414933), (6.872478437, 11.323472022), (12.607599735, 11.300593104), (17.190694153, 11.272995363), (20.630445447, 11.247337751), (23.494491472, 11.221361016), (25.501541099, 11.201161232), (26.644451102, 11.189175621), (27.498065116, 11.180275165), (28.352574991, 11.172114392), (29.261509556, 11.159820139), (29.838991381, 11.15885219), (30.595071168, 11.187728461), (31.560099446, 11.273271144), (33.06315948, 11.516547965), (34.911195472, 12.021311999), (37.718171309, 13.239566057), (40.842346722, 15.48484508), (43.20849698, 18.527047098), (44.530333752, 21.281047019), (45.106091164, 23.112408784), (45.405083013, 24.602430564), (45.526723908, 25.554545632), (45.583173633, 26.321035468), (45.60349972, 26.857986736), (45.607093442, 27.542270773), (45.603707768, 28.443123766), (45.605622964, 29.304227651), (45.605661466, 30.433147138), (45.606218842, 31.87044242), (45.606703416, 33.579105551), (45.607198077, 35.864652614), (45.607541123, 38.718514035), (45.607444615, 42.144455486), (45.606848778, 45.569991627), (45.605335547, 50.137378996), (45.602013136, 55.84636726), (45.595459379, 62.696865634), (45.586050356, 69.546914916), (45.57349763, 76.397004549), (45.561116256, 81.922122311), (45.551602677, 85.734771821), (45.547615979, 87.263836002), (45.546104586, 87.83475716)],
                knots=[1.4327e-05, 1.4327e-05, 1.4327e-05, 1.4327e-05, 0.031260185, 0.062506043, 0.078128971, 0.0937519, 0.109374829, 0.117186294, 0.121092026, 0.124997758, 0.128903491, 0.132809223, 0.136714955, 0.140620687, 0.148432152, 0.156243616, 0.171866545, 0.187489474, 0.218735332, 0.24998119, 0.265604119, 0.281227048, 0.289038513, 0.296849977, 0.300755709, 0.304661442, 0.308567174, 0.312472906, 0.316378638, 0.320284371, 0.328095835, 0.3359073, 0.343718764, 0.359341693, 0.374964622, 0.390587551, 0.40621048, 0.437456338, 0.468702196, 0.499948054, 0.531193912, 0.56243977, 0.575549404, 0.583360869, 0.583360869, 0.583360869, 0.583360869], degree=3))
        make_face(mode=Mode.SUBTRACT)
    # profile 2 of 2: a face of its own
    with BuildSketch(Plane.XY):
        with BuildLine():
            add(Edge.make_bspline(
                [(1.4096e-05, 128.104501314), (-2.290740502, 128.097072123), (-6.871752548, 128.085178437), (-12.60059096, 128.08694214), (-17.181829557, 128.0957399), (-20.617646426, 128.10608411), (-23.479452934, 128.117598931), (-25.770032934, 128.128292772), (-27.199378679, 128.135838193), (-28.347599297, 128.141895979), (-29.19071701, 128.147352306), (-29.823193563, 128.141432826), (-30.331918294, 128.116978675), (-30.938212255, 128.067786124), (-31.690573783, 127.979035498), (-33.02250345, 127.751725567), (-34.877249499, 127.228380645), (-37.688411322, 125.988619168), (-40.821936423, 123.715969871), (-43.170634246, 120.670711555), (-44.468814244, 117.922664951), (-45.023966542, 116.108714676), (-45.270693984, 114.808613996), (-45.369926457, 114.068520608), (-45.4260579, 113.488039214), (-45.459917428, 112.94085237), (-45.470334843, 112.403478275), (-45.472375433, 111.527329039), (-45.476550162, 110.391146619), (-45.481397553, 108.960439841), (-45.489160435, 106.677330111), (-45.498617764, 103.821439657), (-45.50960287, 100.39533521), (-45.522536764, 96.208242339), (-45.533107945, 92.592439196), (-45.541522153, 89.547735571), (-45.544589726, 88.40574757), (-45.546100704, 87.83475716)],
                knots=[0.000118205, 0.000118205, 0.000118205, 0.000118205, 0.031364064, 0.062609922, 0.078232851, 0.09385578, 0.10947871, 0.117290174, 0.125101639, 0.129007371, 0.132913103, 0.136818836, 0.140724568, 0.1446303, 0.148536033, 0.156347497, 0.171970427, 0.187593356, 0.218839214, 0.250085073, 0.265708002, 0.281330931, 0.289142396, 0.293048128, 0.29695386, 0.300859593, 0.304765325, 0.308671057, 0.312576789, 0.320388254, 0.328199719, 0.343822648, 0.359445577, 0.375068506, 0.401098036, 0.4089095, 0.416720965, 0.416720965, 0.416720965, 0.416720965], degree=3))
            Line((-45.546100704, 87.83475716), (-15.733857808, 87.83475716))
            ThreePointArc((-15.733857808, 87.83475716), (-0.149929752, 91.33632015), (15.433998304, 87.83475716))
            Line((15.433998304, 87.83475716), (45.546104586, 87.83475716))
            add(Edge.make_bspline(
                [(45.546104586, 87.83475716), (45.544593192, 88.405678319), (45.541524701, 89.547527112), (45.53312767, 92.585858308), (45.522579964, 96.195199989), (45.509645571, 100.376049422), (45.49871543, 103.801187969), (45.489279798, 106.658625166), (45.481221854, 108.936137867), (45.476840624, 110.382266936), (45.47209225, 111.488940165), (45.471455529, 112.271626028), (45.466636398, 112.636169822), (45.454369838, 113.016040261), (45.426376284, 113.485017427), (45.372132076, 114.049292757), (45.272575848, 114.797548209), (45.027884397, 116.092247709), (44.473820497, 117.910617547), (43.179236878, 120.655626002), (40.832178522, 123.70977978), (37.679927976, 125.99317268), (34.877229134, 127.228320208), (33.018781335, 127.752507235), (31.500297709, 128.011601546), (30.551288971, 128.106418345), (29.759898954, 128.144003168), (29.242470557, 128.148591247), (28.328673371, 128.14139433), (27.205403996, 128.136100767), (25.763515922, 128.128178402), (23.478789106, 128.117667298), (20.614400517, 128.106045313), (17.180004546, 128.095743416), (12.598957897, 128.08693638), (6.870996672, 128.085175498), (2.290491092, 128.097081094), (1.4096e-05, 128.104501314)],
                knots=[0.583360869, 0.583360869, 0.583360869, 0.583360869, 0.591172333, 0.598983798, 0.624931485, 0.640554414, 0.656177343, 0.671800272, 0.679611737, 0.687423201, 0.691328934, 0.695234666, 0.697187532, 0.699140398, 0.70304613, 0.706951863, 0.710857595, 0.718669059, 0.734291988, 0.749914917, 0.781160775, 0.812406633, 0.828029562, 0.843652491, 0.851463956, 0.85927542, 0.863181152, 0.867086885, 0.870992617, 0.874898349, 0.882709814, 0.890521278, 0.906144207, 0.921767136, 0.937390065, 0.968635923, 0.999881781, 0.999881781, 0.999881781, 0.999881781], degree=3))
        make_face()
        with Locations((1.4096e-05, 103.636945021)):
            Circle(SKETCH_1_R, mode=Mode.SUBTRACT)
    extrude(amount=EXTRUDE_1_DEPTH, both=True)


solid = part.part
